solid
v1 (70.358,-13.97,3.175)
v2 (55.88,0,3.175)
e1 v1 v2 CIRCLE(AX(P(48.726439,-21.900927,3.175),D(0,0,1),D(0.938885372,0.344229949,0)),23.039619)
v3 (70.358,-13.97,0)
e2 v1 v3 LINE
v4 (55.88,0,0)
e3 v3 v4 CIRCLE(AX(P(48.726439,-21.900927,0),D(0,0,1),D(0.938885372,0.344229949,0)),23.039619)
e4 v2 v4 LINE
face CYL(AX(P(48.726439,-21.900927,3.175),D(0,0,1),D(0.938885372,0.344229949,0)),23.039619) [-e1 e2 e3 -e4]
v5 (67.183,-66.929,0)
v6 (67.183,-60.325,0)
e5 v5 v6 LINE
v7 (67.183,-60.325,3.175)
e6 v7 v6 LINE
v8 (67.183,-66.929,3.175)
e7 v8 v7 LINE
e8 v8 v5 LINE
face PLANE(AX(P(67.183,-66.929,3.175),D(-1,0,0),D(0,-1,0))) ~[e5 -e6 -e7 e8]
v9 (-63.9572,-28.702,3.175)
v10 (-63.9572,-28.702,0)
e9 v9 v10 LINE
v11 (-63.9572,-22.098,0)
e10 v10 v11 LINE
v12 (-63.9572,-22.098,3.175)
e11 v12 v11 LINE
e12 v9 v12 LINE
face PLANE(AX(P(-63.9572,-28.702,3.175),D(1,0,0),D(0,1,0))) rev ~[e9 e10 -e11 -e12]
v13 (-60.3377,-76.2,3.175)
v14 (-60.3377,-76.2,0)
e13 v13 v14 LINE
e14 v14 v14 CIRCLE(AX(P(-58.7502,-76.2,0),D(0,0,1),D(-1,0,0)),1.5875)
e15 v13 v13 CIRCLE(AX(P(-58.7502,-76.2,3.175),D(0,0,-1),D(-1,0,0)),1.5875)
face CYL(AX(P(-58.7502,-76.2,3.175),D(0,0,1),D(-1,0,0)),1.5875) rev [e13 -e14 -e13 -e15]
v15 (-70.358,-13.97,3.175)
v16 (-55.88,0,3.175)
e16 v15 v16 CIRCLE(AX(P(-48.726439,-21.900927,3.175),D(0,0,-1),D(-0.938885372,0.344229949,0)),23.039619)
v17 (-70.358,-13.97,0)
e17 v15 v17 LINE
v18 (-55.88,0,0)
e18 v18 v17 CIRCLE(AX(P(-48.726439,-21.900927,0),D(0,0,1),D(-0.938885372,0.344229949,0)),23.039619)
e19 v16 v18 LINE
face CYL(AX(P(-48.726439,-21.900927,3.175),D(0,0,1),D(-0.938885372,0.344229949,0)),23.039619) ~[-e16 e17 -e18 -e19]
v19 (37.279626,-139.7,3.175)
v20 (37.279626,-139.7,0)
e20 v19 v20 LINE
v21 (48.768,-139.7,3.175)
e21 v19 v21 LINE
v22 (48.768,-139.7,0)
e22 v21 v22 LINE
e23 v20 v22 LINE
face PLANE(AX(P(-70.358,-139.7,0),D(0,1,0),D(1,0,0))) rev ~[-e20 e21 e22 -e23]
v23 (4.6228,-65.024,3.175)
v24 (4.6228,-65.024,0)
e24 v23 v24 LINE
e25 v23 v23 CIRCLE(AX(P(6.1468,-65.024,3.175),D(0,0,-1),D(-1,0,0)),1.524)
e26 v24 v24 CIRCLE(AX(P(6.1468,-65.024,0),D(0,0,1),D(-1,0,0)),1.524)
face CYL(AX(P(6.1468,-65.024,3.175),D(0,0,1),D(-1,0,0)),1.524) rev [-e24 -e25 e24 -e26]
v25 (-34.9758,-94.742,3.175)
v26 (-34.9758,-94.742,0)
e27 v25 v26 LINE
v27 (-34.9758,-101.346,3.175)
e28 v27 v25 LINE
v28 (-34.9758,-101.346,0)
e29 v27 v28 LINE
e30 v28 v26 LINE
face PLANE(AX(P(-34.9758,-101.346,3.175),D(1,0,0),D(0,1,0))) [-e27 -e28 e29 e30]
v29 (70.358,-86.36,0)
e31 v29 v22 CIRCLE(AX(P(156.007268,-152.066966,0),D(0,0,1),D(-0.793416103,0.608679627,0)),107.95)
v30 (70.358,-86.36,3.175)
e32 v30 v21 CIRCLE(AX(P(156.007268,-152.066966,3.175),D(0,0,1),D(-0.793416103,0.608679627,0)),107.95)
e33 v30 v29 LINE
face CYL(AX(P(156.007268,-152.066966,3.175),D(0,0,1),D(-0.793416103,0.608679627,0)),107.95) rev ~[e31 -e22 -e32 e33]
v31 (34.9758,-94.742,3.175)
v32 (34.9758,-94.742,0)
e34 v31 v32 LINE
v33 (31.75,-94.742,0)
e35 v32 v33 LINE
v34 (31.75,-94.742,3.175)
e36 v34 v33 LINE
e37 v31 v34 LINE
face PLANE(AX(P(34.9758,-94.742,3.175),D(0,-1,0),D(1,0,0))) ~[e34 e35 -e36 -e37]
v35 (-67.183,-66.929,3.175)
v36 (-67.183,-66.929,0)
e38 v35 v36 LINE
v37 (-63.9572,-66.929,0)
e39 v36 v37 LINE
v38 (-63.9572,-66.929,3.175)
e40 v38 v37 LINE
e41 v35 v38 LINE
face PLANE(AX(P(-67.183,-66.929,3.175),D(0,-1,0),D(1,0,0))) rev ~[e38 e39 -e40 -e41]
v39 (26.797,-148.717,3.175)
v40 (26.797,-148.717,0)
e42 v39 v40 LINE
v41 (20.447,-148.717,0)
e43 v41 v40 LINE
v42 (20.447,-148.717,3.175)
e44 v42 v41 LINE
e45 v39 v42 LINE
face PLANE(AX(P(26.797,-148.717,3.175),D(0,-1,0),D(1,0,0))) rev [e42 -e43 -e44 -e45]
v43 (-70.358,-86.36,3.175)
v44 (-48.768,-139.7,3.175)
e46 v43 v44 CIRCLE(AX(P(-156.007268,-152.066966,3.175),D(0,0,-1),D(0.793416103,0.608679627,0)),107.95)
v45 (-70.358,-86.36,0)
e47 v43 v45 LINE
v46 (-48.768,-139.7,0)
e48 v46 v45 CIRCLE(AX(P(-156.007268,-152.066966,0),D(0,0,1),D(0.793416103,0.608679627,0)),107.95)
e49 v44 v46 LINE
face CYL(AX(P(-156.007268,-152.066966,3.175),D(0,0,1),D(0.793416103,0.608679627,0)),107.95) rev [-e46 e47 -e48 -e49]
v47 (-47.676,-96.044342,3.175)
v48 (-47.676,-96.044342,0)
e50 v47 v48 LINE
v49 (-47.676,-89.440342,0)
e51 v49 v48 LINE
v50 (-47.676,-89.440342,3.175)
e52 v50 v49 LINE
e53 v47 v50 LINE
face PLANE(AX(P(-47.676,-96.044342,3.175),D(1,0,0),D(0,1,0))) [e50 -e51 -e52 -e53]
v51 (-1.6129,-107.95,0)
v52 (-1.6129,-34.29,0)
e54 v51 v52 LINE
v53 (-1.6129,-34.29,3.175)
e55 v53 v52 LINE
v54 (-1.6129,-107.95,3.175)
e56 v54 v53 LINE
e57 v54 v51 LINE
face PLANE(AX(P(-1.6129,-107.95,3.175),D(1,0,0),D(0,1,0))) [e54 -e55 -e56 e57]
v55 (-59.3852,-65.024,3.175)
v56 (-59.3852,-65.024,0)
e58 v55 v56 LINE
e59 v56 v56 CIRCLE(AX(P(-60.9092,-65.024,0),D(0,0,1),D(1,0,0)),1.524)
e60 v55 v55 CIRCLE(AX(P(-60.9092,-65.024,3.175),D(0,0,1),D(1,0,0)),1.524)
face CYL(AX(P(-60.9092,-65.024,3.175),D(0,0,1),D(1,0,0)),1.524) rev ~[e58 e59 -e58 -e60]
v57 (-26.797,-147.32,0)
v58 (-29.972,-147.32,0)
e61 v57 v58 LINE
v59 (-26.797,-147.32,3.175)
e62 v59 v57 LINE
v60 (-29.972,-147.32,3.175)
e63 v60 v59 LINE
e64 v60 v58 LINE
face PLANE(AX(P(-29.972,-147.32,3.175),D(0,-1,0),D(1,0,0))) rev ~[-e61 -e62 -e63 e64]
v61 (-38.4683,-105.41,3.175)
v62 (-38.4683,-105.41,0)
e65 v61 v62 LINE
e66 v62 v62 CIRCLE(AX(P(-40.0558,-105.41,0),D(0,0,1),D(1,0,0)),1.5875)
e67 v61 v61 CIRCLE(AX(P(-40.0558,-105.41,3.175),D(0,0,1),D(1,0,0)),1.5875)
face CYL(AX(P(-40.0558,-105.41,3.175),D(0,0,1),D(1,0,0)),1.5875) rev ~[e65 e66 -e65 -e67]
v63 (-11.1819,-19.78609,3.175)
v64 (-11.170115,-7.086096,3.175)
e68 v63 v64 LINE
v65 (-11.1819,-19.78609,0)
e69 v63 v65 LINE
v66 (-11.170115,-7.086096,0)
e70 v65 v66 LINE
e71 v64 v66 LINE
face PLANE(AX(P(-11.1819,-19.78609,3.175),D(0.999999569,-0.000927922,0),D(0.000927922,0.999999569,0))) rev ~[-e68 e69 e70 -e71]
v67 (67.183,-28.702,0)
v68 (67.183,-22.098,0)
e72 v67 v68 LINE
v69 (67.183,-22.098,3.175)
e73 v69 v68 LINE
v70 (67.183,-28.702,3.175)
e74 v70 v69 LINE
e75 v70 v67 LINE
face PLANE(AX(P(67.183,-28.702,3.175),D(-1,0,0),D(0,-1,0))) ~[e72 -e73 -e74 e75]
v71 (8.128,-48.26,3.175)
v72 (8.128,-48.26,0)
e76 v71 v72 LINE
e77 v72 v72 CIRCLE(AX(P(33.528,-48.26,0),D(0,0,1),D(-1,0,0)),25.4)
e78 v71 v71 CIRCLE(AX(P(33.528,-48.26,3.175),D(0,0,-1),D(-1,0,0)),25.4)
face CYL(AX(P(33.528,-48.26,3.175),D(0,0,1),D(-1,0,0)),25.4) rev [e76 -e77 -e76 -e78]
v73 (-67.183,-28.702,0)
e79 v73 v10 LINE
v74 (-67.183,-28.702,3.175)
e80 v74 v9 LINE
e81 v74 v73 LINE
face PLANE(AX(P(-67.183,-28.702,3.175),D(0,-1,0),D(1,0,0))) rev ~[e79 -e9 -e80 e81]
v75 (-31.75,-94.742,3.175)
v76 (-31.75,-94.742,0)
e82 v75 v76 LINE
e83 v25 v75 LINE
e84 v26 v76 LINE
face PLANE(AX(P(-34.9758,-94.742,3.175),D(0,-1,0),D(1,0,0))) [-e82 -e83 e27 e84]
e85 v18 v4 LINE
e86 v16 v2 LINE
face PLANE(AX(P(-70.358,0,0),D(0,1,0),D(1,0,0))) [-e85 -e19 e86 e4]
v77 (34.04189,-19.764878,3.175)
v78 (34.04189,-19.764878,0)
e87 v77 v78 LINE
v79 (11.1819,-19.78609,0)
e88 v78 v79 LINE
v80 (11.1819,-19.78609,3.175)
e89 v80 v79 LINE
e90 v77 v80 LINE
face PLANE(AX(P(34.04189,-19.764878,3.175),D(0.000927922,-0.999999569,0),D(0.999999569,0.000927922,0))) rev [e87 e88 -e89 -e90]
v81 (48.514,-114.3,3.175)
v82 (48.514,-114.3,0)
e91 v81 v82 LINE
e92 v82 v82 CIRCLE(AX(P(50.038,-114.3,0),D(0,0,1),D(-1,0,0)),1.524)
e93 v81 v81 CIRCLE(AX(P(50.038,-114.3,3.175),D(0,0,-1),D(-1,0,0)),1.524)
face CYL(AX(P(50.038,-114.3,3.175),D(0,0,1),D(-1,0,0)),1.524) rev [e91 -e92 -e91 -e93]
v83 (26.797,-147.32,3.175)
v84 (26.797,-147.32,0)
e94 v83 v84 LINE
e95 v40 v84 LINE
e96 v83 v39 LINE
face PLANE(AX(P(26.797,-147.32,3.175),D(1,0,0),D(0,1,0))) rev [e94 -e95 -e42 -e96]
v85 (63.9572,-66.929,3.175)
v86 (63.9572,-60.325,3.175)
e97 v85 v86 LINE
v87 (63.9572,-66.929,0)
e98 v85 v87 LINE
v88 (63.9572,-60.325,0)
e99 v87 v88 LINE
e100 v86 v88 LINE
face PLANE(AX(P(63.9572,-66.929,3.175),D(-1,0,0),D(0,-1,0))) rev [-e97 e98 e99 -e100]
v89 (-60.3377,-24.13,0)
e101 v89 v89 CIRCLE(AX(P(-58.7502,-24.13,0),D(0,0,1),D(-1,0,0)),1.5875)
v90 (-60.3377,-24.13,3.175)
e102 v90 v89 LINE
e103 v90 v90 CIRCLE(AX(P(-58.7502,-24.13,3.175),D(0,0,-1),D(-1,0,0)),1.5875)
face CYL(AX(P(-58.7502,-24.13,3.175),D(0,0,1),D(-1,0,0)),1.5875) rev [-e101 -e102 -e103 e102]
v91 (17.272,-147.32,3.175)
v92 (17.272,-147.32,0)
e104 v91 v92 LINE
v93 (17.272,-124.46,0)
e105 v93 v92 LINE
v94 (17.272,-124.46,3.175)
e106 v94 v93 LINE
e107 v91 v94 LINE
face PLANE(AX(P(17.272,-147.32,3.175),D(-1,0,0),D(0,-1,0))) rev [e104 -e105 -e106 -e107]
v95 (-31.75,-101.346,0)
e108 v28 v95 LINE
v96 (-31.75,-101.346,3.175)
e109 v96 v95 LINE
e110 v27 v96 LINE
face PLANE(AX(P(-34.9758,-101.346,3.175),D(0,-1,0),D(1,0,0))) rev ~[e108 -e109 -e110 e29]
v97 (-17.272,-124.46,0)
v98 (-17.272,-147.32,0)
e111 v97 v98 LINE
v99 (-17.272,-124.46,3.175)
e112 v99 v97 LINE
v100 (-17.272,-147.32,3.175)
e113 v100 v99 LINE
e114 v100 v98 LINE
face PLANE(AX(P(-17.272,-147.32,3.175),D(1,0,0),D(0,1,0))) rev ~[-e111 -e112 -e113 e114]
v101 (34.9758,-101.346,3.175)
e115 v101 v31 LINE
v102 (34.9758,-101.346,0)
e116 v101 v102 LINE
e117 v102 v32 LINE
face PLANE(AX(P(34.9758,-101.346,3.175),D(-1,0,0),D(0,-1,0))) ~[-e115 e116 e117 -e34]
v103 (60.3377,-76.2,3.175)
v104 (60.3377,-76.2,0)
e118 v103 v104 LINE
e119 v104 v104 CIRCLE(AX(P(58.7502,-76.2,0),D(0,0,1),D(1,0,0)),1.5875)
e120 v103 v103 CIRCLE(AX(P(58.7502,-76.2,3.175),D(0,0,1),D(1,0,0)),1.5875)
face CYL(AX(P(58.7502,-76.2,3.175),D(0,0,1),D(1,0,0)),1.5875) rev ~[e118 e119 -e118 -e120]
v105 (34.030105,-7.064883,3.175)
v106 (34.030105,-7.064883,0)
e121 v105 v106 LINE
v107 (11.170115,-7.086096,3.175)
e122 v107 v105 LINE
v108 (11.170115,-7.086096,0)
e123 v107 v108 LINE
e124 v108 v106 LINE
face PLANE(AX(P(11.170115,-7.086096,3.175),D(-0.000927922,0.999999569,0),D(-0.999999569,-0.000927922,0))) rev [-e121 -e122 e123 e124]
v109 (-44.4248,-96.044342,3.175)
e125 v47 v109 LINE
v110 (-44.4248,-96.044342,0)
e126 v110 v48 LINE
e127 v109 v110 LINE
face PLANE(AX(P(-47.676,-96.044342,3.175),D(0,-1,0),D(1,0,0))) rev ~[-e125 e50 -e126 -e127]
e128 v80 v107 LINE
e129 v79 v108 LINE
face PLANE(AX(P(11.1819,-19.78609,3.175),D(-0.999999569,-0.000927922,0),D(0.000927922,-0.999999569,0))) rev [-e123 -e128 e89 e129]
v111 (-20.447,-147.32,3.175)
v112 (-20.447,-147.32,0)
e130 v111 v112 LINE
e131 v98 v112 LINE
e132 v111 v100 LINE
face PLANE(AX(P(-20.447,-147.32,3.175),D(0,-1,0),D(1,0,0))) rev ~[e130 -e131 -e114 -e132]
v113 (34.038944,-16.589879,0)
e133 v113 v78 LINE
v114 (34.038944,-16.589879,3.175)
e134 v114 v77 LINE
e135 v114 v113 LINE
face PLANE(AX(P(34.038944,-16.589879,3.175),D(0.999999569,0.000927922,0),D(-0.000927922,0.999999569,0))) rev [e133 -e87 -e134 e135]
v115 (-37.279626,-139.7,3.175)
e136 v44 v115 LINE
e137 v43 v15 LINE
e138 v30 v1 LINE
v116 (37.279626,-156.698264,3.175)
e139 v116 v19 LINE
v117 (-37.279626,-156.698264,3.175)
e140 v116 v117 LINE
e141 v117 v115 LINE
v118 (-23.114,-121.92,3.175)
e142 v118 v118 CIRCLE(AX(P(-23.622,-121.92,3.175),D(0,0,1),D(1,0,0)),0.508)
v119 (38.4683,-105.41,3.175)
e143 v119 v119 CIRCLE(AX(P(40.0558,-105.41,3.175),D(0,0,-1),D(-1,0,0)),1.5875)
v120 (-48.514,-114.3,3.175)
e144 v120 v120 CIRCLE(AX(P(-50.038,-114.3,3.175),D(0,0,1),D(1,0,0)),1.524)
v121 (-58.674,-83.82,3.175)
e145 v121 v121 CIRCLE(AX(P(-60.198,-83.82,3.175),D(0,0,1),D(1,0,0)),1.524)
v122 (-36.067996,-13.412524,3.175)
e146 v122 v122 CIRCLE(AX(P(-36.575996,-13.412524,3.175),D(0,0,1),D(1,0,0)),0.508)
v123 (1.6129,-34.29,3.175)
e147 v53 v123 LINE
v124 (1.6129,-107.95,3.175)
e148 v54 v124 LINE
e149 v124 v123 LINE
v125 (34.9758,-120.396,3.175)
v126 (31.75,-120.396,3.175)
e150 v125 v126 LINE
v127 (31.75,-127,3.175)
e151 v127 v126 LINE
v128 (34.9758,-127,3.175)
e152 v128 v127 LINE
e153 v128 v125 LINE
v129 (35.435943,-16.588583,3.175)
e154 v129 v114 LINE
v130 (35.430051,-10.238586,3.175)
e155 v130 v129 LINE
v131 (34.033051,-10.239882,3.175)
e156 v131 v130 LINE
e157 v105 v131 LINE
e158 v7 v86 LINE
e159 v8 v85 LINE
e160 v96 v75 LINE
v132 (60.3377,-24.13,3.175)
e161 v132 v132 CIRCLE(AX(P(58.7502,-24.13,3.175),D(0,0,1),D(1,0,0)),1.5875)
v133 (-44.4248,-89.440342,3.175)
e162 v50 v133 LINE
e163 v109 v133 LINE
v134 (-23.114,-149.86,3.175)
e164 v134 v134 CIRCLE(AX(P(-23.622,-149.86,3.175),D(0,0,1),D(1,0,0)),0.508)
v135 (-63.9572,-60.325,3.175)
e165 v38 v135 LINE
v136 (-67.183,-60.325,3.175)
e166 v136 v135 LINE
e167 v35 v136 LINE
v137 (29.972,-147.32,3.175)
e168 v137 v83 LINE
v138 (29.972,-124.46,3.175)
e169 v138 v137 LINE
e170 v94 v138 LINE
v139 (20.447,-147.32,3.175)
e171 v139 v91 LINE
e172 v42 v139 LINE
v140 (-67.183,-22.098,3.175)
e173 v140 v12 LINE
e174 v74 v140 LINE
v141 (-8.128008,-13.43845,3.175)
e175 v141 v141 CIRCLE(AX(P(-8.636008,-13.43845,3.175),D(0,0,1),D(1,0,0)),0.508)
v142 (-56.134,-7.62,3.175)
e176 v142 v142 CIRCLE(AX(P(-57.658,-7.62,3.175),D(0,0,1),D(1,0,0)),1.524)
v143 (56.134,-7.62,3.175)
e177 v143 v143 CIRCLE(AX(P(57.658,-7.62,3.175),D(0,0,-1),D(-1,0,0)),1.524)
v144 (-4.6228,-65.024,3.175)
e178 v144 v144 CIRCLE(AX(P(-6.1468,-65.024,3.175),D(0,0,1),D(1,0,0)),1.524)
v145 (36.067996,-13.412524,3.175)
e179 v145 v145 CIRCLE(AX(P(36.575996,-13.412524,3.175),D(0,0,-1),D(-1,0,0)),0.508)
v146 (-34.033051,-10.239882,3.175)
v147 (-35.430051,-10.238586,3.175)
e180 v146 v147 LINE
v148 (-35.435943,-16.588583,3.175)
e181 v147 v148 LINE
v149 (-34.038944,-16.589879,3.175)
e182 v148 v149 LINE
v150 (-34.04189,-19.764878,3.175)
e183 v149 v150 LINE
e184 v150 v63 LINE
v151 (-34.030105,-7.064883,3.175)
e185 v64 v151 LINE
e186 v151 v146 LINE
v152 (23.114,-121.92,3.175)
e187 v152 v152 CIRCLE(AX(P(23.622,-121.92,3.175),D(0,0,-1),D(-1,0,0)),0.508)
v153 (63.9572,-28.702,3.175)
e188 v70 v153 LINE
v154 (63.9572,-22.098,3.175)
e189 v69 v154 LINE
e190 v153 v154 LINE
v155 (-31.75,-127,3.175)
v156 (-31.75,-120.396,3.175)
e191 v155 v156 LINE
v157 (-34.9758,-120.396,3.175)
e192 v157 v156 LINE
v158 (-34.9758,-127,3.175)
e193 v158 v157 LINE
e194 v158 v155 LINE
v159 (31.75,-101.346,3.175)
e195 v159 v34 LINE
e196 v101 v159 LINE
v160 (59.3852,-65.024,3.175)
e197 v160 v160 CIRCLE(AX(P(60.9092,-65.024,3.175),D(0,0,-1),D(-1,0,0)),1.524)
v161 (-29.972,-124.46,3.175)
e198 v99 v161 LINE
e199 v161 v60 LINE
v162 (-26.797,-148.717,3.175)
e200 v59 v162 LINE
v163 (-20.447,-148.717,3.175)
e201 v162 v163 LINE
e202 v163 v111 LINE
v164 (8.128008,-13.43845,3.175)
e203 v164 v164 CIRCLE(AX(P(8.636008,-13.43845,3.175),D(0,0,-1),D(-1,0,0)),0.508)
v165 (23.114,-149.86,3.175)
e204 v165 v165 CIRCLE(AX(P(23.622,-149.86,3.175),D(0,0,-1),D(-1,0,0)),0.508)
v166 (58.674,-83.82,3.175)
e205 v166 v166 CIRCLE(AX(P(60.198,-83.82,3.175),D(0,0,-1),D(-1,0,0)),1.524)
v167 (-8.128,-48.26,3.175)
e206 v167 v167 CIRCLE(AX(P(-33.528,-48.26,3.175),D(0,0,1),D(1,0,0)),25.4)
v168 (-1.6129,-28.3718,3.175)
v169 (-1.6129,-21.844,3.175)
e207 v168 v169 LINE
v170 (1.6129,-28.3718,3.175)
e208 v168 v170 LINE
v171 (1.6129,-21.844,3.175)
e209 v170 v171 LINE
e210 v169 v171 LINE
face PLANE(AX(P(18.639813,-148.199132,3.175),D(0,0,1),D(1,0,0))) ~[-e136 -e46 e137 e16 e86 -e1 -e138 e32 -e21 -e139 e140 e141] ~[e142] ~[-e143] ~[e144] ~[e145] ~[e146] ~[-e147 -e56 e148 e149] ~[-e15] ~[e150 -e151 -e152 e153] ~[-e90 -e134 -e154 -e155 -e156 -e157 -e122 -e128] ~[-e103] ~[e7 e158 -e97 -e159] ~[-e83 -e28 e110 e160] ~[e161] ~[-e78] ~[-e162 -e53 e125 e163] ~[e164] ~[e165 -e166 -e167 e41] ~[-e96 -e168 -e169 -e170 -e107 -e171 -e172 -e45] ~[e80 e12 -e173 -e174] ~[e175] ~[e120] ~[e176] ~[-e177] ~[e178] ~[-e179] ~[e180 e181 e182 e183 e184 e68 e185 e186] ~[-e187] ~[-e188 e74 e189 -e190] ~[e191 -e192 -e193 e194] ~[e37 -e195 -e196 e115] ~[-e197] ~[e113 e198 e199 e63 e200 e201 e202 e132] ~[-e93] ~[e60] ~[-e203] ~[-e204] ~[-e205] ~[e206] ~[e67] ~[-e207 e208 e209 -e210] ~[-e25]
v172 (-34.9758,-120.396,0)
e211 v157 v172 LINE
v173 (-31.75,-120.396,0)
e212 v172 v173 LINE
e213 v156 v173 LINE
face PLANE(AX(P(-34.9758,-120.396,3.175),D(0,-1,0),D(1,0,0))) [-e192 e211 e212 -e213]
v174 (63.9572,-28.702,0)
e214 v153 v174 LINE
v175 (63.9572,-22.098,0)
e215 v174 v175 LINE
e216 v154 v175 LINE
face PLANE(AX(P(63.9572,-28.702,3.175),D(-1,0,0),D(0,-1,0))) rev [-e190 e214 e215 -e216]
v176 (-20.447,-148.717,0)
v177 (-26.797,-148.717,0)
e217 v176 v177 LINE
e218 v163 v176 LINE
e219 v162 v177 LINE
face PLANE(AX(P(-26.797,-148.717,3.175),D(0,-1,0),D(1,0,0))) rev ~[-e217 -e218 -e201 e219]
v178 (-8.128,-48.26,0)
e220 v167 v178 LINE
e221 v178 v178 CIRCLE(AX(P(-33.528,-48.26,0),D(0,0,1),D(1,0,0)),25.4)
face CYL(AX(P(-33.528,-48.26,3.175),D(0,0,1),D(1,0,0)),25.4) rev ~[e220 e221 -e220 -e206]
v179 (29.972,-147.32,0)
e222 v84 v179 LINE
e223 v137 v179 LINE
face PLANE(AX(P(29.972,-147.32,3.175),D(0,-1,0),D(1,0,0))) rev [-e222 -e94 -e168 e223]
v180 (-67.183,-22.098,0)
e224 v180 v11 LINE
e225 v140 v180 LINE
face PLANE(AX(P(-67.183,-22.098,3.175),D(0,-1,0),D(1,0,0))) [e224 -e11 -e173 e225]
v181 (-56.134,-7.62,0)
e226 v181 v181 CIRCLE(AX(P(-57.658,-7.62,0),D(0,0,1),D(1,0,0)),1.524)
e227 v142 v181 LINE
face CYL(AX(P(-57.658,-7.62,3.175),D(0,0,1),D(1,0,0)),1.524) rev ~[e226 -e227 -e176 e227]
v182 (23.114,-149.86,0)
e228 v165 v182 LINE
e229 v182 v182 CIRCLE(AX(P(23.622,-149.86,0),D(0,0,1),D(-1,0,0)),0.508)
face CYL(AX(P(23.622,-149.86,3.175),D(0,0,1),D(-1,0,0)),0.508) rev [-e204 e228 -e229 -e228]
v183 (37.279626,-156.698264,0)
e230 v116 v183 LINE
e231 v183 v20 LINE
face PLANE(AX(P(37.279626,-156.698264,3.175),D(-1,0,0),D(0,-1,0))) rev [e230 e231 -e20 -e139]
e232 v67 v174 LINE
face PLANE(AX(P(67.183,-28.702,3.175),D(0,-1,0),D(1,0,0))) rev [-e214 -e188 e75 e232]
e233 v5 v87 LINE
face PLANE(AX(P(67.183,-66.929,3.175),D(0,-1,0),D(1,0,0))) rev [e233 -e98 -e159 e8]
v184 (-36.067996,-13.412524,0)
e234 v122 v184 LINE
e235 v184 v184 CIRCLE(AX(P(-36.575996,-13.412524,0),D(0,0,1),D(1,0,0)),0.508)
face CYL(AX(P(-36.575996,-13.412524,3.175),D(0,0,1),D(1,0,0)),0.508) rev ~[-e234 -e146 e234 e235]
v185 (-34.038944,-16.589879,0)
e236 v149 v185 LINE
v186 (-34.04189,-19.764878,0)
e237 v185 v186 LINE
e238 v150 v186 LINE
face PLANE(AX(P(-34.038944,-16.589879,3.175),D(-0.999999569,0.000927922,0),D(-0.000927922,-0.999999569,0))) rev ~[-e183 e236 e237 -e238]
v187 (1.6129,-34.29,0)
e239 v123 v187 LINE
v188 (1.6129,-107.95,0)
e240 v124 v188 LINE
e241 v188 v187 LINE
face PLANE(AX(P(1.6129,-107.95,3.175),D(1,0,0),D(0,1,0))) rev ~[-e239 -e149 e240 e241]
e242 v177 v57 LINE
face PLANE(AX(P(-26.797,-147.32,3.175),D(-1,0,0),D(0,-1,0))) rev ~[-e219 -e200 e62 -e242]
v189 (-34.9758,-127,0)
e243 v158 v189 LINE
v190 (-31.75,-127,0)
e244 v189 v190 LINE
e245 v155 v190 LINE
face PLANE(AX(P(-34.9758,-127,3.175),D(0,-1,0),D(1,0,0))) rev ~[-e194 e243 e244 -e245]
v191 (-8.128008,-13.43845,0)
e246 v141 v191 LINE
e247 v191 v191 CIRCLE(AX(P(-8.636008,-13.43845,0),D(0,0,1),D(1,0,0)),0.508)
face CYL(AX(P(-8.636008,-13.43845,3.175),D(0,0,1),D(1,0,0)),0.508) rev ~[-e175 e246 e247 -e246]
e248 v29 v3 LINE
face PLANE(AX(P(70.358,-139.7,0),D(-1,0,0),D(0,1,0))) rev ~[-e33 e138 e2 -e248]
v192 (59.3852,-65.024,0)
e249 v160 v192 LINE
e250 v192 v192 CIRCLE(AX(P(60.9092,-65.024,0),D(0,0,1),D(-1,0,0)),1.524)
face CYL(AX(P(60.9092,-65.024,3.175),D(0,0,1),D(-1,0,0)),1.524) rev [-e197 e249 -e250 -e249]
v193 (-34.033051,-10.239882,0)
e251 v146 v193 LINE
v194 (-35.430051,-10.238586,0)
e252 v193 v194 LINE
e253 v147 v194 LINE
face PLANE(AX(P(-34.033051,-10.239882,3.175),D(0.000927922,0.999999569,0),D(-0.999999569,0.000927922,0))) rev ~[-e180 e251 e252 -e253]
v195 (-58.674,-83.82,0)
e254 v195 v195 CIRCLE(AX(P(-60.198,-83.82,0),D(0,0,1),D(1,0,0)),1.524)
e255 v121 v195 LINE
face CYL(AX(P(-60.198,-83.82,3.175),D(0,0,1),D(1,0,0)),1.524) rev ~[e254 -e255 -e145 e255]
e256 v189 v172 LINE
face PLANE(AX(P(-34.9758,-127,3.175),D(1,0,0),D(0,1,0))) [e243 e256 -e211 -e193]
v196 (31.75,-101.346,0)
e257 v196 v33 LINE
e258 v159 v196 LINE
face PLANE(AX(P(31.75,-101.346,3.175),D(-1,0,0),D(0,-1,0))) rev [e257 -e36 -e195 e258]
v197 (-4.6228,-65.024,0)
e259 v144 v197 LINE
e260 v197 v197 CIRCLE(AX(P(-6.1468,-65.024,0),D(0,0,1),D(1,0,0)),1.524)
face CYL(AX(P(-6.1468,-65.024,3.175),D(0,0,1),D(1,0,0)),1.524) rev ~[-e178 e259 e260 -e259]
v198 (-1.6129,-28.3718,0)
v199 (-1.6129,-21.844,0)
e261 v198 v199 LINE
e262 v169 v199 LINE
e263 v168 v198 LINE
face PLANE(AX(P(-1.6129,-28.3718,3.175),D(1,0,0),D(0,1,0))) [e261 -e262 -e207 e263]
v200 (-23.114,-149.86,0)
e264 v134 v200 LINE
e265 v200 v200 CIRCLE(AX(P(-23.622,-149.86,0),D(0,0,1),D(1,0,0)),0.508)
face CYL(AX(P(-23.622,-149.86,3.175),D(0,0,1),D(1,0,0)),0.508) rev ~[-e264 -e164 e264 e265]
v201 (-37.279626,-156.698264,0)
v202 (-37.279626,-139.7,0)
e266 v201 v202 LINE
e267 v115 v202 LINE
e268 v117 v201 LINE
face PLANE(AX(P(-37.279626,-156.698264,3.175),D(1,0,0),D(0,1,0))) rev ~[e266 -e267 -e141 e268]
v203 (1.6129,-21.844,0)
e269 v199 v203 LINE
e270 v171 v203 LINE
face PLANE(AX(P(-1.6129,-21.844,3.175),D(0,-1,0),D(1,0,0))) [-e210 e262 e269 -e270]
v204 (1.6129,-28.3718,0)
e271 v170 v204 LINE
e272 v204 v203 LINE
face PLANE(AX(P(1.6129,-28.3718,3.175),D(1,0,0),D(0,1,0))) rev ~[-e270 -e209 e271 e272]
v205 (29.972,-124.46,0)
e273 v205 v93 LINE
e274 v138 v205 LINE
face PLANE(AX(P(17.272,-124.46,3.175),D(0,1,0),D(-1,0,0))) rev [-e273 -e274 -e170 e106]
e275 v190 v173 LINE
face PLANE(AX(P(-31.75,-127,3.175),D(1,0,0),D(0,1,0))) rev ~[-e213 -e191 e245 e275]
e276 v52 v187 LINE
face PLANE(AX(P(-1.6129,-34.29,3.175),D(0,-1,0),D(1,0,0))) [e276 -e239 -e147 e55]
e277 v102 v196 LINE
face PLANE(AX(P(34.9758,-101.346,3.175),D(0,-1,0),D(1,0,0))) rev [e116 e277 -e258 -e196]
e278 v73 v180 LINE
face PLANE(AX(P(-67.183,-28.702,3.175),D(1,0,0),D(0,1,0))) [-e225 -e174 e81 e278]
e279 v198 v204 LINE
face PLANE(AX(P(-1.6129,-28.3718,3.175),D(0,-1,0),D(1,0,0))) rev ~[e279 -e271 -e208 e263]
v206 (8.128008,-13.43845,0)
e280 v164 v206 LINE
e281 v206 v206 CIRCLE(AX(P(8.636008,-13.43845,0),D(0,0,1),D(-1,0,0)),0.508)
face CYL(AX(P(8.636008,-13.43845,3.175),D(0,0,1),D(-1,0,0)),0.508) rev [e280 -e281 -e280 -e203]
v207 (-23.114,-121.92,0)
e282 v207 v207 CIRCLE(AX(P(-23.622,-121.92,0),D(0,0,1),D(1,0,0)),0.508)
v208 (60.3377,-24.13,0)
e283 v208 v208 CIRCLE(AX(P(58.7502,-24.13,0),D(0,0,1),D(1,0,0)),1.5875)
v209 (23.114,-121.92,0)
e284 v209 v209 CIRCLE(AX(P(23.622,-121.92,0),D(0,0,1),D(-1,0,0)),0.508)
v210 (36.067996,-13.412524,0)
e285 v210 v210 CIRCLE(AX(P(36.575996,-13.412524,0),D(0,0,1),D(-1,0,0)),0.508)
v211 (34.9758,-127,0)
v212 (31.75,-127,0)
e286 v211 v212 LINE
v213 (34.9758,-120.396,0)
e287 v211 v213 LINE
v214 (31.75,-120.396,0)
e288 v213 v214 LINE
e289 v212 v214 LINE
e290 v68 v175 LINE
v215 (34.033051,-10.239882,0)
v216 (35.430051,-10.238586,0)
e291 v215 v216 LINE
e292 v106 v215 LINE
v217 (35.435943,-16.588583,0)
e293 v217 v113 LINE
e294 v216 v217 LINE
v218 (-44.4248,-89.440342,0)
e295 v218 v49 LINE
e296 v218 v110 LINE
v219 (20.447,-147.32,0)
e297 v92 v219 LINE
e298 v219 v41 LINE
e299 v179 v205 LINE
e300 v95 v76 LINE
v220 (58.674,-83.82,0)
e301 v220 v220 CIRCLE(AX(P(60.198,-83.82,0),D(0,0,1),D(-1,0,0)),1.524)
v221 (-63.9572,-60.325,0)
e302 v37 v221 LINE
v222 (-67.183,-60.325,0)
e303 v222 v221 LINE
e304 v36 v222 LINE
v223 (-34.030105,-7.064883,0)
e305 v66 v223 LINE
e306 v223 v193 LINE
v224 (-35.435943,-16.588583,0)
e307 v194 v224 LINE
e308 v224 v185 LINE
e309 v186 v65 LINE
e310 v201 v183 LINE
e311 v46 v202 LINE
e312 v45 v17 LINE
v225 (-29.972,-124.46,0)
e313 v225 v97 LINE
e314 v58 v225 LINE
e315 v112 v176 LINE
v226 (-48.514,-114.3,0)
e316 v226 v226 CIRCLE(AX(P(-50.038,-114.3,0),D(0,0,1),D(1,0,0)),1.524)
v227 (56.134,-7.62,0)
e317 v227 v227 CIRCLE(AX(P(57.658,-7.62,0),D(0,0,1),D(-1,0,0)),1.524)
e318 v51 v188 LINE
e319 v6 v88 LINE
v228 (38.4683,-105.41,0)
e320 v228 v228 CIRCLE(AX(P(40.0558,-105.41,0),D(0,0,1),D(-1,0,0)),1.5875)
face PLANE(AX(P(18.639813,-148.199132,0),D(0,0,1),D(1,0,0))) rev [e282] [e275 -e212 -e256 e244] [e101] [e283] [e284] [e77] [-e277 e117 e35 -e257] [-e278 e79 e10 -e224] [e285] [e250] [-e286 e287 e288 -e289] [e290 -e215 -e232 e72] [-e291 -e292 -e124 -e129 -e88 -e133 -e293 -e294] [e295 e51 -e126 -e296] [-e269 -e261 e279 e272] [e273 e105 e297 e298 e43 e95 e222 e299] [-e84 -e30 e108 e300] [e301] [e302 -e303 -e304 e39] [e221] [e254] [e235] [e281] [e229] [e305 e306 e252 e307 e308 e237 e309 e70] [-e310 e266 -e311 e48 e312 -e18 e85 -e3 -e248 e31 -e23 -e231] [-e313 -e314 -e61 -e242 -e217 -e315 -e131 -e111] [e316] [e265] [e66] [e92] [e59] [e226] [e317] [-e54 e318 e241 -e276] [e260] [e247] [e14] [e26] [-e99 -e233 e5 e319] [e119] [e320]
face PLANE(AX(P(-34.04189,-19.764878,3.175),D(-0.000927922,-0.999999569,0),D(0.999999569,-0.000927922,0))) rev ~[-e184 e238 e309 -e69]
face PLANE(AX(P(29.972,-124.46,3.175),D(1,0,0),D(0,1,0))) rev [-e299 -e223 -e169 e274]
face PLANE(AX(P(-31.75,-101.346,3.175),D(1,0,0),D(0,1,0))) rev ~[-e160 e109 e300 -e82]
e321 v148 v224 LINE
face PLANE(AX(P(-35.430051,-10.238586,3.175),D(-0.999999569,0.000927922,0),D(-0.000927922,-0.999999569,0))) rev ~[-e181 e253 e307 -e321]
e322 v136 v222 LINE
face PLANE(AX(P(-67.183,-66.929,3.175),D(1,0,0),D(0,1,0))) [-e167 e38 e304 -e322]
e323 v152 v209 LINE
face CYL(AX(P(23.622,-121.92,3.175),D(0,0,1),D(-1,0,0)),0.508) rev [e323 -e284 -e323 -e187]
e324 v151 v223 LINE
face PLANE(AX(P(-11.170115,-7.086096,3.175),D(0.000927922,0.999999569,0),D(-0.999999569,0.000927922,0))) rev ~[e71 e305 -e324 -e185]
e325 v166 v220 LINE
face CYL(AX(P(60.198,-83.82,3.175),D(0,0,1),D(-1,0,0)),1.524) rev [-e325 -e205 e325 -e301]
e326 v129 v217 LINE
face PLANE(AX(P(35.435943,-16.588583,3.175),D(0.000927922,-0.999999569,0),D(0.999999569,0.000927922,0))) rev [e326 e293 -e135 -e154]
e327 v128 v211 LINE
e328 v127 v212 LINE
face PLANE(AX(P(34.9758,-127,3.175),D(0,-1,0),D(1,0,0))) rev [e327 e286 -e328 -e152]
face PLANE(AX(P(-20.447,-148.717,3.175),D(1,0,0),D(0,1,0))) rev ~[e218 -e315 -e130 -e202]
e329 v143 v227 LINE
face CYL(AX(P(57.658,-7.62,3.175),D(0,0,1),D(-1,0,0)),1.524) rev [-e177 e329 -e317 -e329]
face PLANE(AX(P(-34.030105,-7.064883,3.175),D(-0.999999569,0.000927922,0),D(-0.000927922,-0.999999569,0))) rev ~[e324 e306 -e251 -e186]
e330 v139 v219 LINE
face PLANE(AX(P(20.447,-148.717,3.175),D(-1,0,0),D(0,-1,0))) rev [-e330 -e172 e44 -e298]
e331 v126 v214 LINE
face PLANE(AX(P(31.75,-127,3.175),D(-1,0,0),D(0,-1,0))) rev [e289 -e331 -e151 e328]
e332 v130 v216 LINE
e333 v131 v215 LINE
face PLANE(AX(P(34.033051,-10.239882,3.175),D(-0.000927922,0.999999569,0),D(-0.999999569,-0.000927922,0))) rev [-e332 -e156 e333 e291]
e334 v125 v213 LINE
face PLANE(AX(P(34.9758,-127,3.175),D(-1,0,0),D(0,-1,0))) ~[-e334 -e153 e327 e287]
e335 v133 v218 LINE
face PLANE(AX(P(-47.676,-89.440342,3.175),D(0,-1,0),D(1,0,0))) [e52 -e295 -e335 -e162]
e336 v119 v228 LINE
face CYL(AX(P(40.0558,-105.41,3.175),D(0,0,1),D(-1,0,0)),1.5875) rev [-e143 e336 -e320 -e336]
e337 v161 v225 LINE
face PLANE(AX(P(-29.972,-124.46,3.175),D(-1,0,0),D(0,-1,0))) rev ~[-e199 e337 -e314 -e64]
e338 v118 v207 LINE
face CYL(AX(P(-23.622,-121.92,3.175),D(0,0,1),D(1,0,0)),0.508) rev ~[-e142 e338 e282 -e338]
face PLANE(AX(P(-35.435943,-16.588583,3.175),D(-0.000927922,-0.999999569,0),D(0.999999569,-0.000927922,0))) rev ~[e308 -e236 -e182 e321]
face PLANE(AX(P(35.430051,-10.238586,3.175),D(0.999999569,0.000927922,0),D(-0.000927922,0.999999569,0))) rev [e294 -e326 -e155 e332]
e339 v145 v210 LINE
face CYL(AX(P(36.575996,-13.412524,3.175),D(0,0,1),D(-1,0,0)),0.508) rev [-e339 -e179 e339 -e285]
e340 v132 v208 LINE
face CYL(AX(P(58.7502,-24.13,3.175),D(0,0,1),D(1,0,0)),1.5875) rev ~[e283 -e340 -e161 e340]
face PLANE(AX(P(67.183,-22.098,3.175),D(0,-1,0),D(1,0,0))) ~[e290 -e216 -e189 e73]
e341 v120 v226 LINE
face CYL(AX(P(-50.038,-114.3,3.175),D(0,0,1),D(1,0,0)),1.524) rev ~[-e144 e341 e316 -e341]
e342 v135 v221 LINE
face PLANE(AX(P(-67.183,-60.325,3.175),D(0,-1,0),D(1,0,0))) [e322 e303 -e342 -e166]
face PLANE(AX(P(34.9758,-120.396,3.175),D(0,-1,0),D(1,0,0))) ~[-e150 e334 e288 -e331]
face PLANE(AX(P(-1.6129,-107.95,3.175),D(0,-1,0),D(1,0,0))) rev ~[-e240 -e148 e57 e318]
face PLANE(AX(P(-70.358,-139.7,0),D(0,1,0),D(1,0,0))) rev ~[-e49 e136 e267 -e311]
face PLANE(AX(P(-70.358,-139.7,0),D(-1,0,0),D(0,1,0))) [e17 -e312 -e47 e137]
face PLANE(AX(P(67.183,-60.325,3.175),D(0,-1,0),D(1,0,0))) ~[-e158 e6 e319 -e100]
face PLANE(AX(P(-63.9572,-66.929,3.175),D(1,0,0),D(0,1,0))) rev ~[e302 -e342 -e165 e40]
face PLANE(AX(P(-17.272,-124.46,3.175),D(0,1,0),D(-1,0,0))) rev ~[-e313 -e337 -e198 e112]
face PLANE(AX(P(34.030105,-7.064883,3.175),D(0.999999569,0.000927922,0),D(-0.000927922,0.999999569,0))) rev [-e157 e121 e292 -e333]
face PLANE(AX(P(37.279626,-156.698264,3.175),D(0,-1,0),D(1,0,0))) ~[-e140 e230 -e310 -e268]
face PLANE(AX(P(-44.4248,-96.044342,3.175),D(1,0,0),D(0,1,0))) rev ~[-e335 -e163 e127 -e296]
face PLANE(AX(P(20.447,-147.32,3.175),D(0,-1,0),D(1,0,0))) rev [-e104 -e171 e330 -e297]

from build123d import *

# Parameters (mm, degrees)
SKETCH1_W                            = 140.716
SKETCH1_H                            = 139.7
MAIN_BODY_DEPTH                      = 3.175
SKETCH2_R                            = 25.4
SKETCH2_R_2                          = 1.524
SKETCH2_R_3                          = 0.508
CUTS_FOR_EYES_AND_MOTORS_DEPTH       = 4.175
SKETCH3_W                            = 3.2258
SKETCH3_H                            = 6.604
CUT_FOR_ASSEMBLY_SLOTS_DEPTH         = 4.175
SKETCH4_W                            = 3.2258
SKETCH4_H                            = 73.66
SKETCH4_H_2                          = 6.5278
CUT_FOR_NOSE_DEPTH                   = 4.175
SKETCH9_W                            = 3.2258
SKETCH9_H                            = 6.604
SLOT_FOR_MANDIBLE_DEPTH              = 4.175
CUT_FOR_ROUNDED_FACE_FEATURES_DEPTH  = 4.175
SKETCH12_R                           = 1.524
HOLES_FOR_SPACERS_DEPTH              = 4.175
SKETCH13_R                           = 1.5875
CUT_FOR_FACE_PLATE_MOUNT_SCREW_DEPTH = 4.175
SKETCH15_W                           = 37.279626203
SKETCH15_H                           = 16.998263706
EXTENSION_FOR_LIP_MOTOR_DEPTH        = 3.175
SKETCH16_R                           = 0.508
CUT_FOR_LIP_MOTOR_DEPTH              = 4.175
SKETCH18_R                           = 1.5875
CUT_FOR_BRACKET_SCREW_DEPTH          = 4.175
SKETCH19_W                           = 3.2512
SKETCH19_H                           = 6.604
CUT_FOR_GEAR_TAB_DEPTH               = 4.175


with BuildPart() as part:
    # Sketch1 → main body (new body)
    with BuildSketch(Plane.XY):
        with Locations((0, -69.85)):
            Rectangle(SKETCH1_W, SKETCH1_H)
    extrude(amount=MAIN_BODY_DEPTH)

    # Sketch2 → cuts for eyes and motors (cut, through all)
    with BuildSketch(Plane.XY.offset(3.175)):
        with Locations((-33.528, -48.26)):
            Circle(SKETCH2_R)
        with Locations((-6.1468, -65.024)):
            Circle(SKETCH2_R_2)
        with Locations((-60.9092, -65.024)):
            Circle(SKETCH2_R_2)
        with Locations((-36.575996282, -13.412523563)):
            Circle(SKETCH2_R_3)
        with Locations((-8.636008311, -13.438449703)):
            Circle(SKETCH2_R_3)
        Polygon((-11.170114913, -7.086095515), (-34.030105071, -7.064883219), (-34.033051223, -10.239881852), (-35.430050622, -10.238585545), (-35.435942926, -16.588582811), (-34.038943528, -16.589879118), (-34.04188968, -19.764877751), (-11.181899522, -19.786090048), align=None)
    cuts_for_eyes_and_motors = extrude(amount=-CUTS_FOR_EYES_AND_MOTORS_DEPTH, mode=Mode.SUBTRACT)

    # Sketch3 → cut for assembly slots (cut, through all)
    with BuildSketch(Plane.XY.offset(3.175)):
        with Locations((-65.5701, -63.627)):
            Rectangle(SKETCH3_W, SKETCH3_H)
        with Locations((-65.5701, -25.4)):
            Rectangle(SKETCH3_W, SKETCH3_H)
    cut_for_assembly_slots = extrude(amount=-CUT_FOR_ASSEMBLY_SLOTS_DEPTH, mode=Mode.SUBTRACT)

    # Sketch4 → cut for nose (cut, through all)
    with BuildSketch(Plane.XY.offset(3.175)):
        with Locations((0, -71.12)):
            Rectangle(SKETCH4_W, SKETCH4_H)
        with Locations((0, -25.1079)):
            Rectangle(SKETCH4_W, SKETCH4_H_2)
    extrude(amount=-CUT_FOR_NOSE_DEPTH, mode=Mode.SUBTRACT)

    # Sketch9 → slot for mandible (cut, through all)
    with BuildSketch(Plane.XY.offset(3.175)):
        with Locations((-33.3629, -98.044)):
            Rectangle(SKETCH9_W, SKETCH9_H)
        with Locations((-33.3629, -123.698)):
            Rectangle(SKETCH9_W, SKETCH9_H)
    slot_for_mandible = extrude(amount=-SLOT_FOR_MANDIBLE_DEPTH, mode=Mode.SUBTRACT)

    # mirror of assembly slots: cut for assembly slots across plane
    add(cut_for_assembly_slots.mirror(Plane(origin=(0, 0, 0), x_dir=(0, 0, 1), z_dir=(1, 0, 0))), mode=Mode.SUBTRACT)

    # Mirror1: cuts for eyes and motors across plane
    add(cuts_for_eyes_and_motors.mirror(Plane(origin=(0, 0, 0), x_dir=(0, 0, 1), z_dir=(1, 0, 0))), mode=Mode.SUBTRACT)

    # Sketch11 → cut for rounded face features (cut, through all)
    with BuildSketch(Plane.XY.offset(3.175)):
        with BuildLine():
            Line((-70.358, -139.7), (-70.358, -86.36))
            ThreePointArc((-70.358, -86.36), (-55.943359781, -111.56490753), (-48.768, -139.7))
            Line((-48.768, -139.7), (-70.358, -139.7))
        make_face()
        with BuildLine():
            Line((-70.358, 0), (-70.358, -13.97))
            ThreePointArc((-70.358, -13.97), (-64.724440046, -5.321180316), (-55.88, 0))
            Line((-55.88, 0), (-70.358, 0))
        make_face()
    cut_for_rounded_face_features = extrude(amount=-CUT_FOR_ROUNDED_FACE_FEATURES_DEPTH, mode=Mode.SUBTRACT)

    # Mirror2: cut for rounded face features across plane
    add(cut_for_rounded_face_features.mirror(Plane(origin=(0, 0, 0), x_dir=(0, 0, 1), z_dir=(1, 0, 0))), mode=Mode.SUBTRACT)

    # Sketch12 → holes for spacers (cut, through all)
    with BuildSketch(Plane.XY.offset(3.175)):
        with Locations((-57.658, -7.62)):
            Circle(SKETCH12_R)
        with Locations((-60.198, -83.82)):
            Circle(SKETCH12_R)
        with Locations((-50.038, -114.3)):
            Circle(SKETCH12_R)
    holes_for_spacers = extrude(amount=-HOLES_FOR_SPACERS_DEPTH, mode=Mode.SUBTRACT)

    # Mirror3: holes for spacers across plane
    add(holes_for_spacers.mirror(Plane(origin=(0, 0, 0), x_dir=(0, 0, 1), z_dir=(1, 0, 0))), mode=Mode.SUBTRACT)

    # Mirror4: slot for mandible across plane
    add(slot_for_mandible.mirror(Plane(origin=(0, 0, 0), x_dir=(0, 0, 1), z_dir=(1, 0, 0))), mode=Mode.SUBTRACT)

    # Sketch13 → cut for face plate mount screw (cut, through all)
    with BuildSketch(Plane.XY.offset(3.175)):
        with Locations((58.7502, -24.13)):
            Circle(SKETCH13_R)
        with Locations((58.7502, -76.2)):
            Circle(SKETCH13_R)
    cut_for_face_plate_mount_screw = extrude(amount=-CUT_FOR_FACE_PLATE_MOUNT_SCREW_DEPTH, mode=Mode.SUBTRACT)

    # Mirror5: cut for face plate mount screw across plane
    add(cut_for_face_plate_mount_screw.mirror(Plane(origin=(0, 0, 0), x_dir=(0, 0, 1), z_dir=(1, 0, 0))), mode=Mode.SUBTRACT)

    # Sketch15 → extension for lip motor (add)
    with BuildSketch(Plane.XY.offset(3.175)):
        with Locations((-18.639813101, -148.199131853)):
            Rectangle(SKETCH15_W, SKETCH15_H)
    extension_for_lip_motor = extrude(amount=-EXTENSION_FOR_LIP_MOTOR_DEPTH)

    # mirror of extension for lip motor: extension for lip motor across plane
    add(extension_for_lip_motor.mirror(Plane(origin=(0, 0, 0), x_dir=(0, 0, 1), z_dir=(1, 0, 0))))

    # Sketch16 → cut for lip motor (cut, through all)
    with BuildSketch(Plane.XY.offset(3.175)):
        with Locations((-23.622, -149.86)):
            Circle(SKETCH16_R)
        with Locations((-23.622, -121.92)):
            Circle(SKETCH16_R)
        Polygon((-17.272, -124.46), (-29.972, -124.46), (-29.972, -147.32), (-26.797, -147.32), (-26.797, -148.717), (-20.447, -148.717), (-20.447, -147.32), (-17.272, -147.32), align=None)
    cut_for_lip_motor = extrude(amount=-CUT_FOR_LIP_MOTOR_DEPTH, mode=Mode.SUBTRACT)

    # mirror of lip motor: cut for lip motor across plane
    add(cut_for_lip_motor.mirror(Plane(origin=(0, 0, 0), x_dir=(0, 0, 1), z_dir=(1, 0, 0))), mode=Mode.SUBTRACT)

    # Sketch18 → cut for bracket screw (cut, through all)
    with BuildSketch(Plane.XY.offset(3.175)):
        with Locations((-40.0558, -105.41)):
            Circle(SKETCH18_R)
    cut_for_bracket_screw = extrude(amount=-CUT_FOR_BRACKET_SCREW_DEPTH, mode=Mode.SUBTRACT)

    # mirror of bracket screw: cut for bracket screw across plane
    add(cut_for_bracket_screw.mirror(Plane(origin=(0, 0, 0), x_dir=(0, 0, 1), z_dir=(1, 0, 0))), mode=Mode.SUBTRACT)

    # Sketch19 → cut for gear tab (cut, through all)
    with BuildSketch(Plane.XY.offset(3.175)):
        with Locations((-46.050399644, -92.742342074)):
            Rectangle(SKETCH19_W, SKETCH19_H)
    extrude(amount=-CUT_FOR_GEAR_TAB_DEPTH, mode=Mode.SUBTRACT)


solid = part.part
